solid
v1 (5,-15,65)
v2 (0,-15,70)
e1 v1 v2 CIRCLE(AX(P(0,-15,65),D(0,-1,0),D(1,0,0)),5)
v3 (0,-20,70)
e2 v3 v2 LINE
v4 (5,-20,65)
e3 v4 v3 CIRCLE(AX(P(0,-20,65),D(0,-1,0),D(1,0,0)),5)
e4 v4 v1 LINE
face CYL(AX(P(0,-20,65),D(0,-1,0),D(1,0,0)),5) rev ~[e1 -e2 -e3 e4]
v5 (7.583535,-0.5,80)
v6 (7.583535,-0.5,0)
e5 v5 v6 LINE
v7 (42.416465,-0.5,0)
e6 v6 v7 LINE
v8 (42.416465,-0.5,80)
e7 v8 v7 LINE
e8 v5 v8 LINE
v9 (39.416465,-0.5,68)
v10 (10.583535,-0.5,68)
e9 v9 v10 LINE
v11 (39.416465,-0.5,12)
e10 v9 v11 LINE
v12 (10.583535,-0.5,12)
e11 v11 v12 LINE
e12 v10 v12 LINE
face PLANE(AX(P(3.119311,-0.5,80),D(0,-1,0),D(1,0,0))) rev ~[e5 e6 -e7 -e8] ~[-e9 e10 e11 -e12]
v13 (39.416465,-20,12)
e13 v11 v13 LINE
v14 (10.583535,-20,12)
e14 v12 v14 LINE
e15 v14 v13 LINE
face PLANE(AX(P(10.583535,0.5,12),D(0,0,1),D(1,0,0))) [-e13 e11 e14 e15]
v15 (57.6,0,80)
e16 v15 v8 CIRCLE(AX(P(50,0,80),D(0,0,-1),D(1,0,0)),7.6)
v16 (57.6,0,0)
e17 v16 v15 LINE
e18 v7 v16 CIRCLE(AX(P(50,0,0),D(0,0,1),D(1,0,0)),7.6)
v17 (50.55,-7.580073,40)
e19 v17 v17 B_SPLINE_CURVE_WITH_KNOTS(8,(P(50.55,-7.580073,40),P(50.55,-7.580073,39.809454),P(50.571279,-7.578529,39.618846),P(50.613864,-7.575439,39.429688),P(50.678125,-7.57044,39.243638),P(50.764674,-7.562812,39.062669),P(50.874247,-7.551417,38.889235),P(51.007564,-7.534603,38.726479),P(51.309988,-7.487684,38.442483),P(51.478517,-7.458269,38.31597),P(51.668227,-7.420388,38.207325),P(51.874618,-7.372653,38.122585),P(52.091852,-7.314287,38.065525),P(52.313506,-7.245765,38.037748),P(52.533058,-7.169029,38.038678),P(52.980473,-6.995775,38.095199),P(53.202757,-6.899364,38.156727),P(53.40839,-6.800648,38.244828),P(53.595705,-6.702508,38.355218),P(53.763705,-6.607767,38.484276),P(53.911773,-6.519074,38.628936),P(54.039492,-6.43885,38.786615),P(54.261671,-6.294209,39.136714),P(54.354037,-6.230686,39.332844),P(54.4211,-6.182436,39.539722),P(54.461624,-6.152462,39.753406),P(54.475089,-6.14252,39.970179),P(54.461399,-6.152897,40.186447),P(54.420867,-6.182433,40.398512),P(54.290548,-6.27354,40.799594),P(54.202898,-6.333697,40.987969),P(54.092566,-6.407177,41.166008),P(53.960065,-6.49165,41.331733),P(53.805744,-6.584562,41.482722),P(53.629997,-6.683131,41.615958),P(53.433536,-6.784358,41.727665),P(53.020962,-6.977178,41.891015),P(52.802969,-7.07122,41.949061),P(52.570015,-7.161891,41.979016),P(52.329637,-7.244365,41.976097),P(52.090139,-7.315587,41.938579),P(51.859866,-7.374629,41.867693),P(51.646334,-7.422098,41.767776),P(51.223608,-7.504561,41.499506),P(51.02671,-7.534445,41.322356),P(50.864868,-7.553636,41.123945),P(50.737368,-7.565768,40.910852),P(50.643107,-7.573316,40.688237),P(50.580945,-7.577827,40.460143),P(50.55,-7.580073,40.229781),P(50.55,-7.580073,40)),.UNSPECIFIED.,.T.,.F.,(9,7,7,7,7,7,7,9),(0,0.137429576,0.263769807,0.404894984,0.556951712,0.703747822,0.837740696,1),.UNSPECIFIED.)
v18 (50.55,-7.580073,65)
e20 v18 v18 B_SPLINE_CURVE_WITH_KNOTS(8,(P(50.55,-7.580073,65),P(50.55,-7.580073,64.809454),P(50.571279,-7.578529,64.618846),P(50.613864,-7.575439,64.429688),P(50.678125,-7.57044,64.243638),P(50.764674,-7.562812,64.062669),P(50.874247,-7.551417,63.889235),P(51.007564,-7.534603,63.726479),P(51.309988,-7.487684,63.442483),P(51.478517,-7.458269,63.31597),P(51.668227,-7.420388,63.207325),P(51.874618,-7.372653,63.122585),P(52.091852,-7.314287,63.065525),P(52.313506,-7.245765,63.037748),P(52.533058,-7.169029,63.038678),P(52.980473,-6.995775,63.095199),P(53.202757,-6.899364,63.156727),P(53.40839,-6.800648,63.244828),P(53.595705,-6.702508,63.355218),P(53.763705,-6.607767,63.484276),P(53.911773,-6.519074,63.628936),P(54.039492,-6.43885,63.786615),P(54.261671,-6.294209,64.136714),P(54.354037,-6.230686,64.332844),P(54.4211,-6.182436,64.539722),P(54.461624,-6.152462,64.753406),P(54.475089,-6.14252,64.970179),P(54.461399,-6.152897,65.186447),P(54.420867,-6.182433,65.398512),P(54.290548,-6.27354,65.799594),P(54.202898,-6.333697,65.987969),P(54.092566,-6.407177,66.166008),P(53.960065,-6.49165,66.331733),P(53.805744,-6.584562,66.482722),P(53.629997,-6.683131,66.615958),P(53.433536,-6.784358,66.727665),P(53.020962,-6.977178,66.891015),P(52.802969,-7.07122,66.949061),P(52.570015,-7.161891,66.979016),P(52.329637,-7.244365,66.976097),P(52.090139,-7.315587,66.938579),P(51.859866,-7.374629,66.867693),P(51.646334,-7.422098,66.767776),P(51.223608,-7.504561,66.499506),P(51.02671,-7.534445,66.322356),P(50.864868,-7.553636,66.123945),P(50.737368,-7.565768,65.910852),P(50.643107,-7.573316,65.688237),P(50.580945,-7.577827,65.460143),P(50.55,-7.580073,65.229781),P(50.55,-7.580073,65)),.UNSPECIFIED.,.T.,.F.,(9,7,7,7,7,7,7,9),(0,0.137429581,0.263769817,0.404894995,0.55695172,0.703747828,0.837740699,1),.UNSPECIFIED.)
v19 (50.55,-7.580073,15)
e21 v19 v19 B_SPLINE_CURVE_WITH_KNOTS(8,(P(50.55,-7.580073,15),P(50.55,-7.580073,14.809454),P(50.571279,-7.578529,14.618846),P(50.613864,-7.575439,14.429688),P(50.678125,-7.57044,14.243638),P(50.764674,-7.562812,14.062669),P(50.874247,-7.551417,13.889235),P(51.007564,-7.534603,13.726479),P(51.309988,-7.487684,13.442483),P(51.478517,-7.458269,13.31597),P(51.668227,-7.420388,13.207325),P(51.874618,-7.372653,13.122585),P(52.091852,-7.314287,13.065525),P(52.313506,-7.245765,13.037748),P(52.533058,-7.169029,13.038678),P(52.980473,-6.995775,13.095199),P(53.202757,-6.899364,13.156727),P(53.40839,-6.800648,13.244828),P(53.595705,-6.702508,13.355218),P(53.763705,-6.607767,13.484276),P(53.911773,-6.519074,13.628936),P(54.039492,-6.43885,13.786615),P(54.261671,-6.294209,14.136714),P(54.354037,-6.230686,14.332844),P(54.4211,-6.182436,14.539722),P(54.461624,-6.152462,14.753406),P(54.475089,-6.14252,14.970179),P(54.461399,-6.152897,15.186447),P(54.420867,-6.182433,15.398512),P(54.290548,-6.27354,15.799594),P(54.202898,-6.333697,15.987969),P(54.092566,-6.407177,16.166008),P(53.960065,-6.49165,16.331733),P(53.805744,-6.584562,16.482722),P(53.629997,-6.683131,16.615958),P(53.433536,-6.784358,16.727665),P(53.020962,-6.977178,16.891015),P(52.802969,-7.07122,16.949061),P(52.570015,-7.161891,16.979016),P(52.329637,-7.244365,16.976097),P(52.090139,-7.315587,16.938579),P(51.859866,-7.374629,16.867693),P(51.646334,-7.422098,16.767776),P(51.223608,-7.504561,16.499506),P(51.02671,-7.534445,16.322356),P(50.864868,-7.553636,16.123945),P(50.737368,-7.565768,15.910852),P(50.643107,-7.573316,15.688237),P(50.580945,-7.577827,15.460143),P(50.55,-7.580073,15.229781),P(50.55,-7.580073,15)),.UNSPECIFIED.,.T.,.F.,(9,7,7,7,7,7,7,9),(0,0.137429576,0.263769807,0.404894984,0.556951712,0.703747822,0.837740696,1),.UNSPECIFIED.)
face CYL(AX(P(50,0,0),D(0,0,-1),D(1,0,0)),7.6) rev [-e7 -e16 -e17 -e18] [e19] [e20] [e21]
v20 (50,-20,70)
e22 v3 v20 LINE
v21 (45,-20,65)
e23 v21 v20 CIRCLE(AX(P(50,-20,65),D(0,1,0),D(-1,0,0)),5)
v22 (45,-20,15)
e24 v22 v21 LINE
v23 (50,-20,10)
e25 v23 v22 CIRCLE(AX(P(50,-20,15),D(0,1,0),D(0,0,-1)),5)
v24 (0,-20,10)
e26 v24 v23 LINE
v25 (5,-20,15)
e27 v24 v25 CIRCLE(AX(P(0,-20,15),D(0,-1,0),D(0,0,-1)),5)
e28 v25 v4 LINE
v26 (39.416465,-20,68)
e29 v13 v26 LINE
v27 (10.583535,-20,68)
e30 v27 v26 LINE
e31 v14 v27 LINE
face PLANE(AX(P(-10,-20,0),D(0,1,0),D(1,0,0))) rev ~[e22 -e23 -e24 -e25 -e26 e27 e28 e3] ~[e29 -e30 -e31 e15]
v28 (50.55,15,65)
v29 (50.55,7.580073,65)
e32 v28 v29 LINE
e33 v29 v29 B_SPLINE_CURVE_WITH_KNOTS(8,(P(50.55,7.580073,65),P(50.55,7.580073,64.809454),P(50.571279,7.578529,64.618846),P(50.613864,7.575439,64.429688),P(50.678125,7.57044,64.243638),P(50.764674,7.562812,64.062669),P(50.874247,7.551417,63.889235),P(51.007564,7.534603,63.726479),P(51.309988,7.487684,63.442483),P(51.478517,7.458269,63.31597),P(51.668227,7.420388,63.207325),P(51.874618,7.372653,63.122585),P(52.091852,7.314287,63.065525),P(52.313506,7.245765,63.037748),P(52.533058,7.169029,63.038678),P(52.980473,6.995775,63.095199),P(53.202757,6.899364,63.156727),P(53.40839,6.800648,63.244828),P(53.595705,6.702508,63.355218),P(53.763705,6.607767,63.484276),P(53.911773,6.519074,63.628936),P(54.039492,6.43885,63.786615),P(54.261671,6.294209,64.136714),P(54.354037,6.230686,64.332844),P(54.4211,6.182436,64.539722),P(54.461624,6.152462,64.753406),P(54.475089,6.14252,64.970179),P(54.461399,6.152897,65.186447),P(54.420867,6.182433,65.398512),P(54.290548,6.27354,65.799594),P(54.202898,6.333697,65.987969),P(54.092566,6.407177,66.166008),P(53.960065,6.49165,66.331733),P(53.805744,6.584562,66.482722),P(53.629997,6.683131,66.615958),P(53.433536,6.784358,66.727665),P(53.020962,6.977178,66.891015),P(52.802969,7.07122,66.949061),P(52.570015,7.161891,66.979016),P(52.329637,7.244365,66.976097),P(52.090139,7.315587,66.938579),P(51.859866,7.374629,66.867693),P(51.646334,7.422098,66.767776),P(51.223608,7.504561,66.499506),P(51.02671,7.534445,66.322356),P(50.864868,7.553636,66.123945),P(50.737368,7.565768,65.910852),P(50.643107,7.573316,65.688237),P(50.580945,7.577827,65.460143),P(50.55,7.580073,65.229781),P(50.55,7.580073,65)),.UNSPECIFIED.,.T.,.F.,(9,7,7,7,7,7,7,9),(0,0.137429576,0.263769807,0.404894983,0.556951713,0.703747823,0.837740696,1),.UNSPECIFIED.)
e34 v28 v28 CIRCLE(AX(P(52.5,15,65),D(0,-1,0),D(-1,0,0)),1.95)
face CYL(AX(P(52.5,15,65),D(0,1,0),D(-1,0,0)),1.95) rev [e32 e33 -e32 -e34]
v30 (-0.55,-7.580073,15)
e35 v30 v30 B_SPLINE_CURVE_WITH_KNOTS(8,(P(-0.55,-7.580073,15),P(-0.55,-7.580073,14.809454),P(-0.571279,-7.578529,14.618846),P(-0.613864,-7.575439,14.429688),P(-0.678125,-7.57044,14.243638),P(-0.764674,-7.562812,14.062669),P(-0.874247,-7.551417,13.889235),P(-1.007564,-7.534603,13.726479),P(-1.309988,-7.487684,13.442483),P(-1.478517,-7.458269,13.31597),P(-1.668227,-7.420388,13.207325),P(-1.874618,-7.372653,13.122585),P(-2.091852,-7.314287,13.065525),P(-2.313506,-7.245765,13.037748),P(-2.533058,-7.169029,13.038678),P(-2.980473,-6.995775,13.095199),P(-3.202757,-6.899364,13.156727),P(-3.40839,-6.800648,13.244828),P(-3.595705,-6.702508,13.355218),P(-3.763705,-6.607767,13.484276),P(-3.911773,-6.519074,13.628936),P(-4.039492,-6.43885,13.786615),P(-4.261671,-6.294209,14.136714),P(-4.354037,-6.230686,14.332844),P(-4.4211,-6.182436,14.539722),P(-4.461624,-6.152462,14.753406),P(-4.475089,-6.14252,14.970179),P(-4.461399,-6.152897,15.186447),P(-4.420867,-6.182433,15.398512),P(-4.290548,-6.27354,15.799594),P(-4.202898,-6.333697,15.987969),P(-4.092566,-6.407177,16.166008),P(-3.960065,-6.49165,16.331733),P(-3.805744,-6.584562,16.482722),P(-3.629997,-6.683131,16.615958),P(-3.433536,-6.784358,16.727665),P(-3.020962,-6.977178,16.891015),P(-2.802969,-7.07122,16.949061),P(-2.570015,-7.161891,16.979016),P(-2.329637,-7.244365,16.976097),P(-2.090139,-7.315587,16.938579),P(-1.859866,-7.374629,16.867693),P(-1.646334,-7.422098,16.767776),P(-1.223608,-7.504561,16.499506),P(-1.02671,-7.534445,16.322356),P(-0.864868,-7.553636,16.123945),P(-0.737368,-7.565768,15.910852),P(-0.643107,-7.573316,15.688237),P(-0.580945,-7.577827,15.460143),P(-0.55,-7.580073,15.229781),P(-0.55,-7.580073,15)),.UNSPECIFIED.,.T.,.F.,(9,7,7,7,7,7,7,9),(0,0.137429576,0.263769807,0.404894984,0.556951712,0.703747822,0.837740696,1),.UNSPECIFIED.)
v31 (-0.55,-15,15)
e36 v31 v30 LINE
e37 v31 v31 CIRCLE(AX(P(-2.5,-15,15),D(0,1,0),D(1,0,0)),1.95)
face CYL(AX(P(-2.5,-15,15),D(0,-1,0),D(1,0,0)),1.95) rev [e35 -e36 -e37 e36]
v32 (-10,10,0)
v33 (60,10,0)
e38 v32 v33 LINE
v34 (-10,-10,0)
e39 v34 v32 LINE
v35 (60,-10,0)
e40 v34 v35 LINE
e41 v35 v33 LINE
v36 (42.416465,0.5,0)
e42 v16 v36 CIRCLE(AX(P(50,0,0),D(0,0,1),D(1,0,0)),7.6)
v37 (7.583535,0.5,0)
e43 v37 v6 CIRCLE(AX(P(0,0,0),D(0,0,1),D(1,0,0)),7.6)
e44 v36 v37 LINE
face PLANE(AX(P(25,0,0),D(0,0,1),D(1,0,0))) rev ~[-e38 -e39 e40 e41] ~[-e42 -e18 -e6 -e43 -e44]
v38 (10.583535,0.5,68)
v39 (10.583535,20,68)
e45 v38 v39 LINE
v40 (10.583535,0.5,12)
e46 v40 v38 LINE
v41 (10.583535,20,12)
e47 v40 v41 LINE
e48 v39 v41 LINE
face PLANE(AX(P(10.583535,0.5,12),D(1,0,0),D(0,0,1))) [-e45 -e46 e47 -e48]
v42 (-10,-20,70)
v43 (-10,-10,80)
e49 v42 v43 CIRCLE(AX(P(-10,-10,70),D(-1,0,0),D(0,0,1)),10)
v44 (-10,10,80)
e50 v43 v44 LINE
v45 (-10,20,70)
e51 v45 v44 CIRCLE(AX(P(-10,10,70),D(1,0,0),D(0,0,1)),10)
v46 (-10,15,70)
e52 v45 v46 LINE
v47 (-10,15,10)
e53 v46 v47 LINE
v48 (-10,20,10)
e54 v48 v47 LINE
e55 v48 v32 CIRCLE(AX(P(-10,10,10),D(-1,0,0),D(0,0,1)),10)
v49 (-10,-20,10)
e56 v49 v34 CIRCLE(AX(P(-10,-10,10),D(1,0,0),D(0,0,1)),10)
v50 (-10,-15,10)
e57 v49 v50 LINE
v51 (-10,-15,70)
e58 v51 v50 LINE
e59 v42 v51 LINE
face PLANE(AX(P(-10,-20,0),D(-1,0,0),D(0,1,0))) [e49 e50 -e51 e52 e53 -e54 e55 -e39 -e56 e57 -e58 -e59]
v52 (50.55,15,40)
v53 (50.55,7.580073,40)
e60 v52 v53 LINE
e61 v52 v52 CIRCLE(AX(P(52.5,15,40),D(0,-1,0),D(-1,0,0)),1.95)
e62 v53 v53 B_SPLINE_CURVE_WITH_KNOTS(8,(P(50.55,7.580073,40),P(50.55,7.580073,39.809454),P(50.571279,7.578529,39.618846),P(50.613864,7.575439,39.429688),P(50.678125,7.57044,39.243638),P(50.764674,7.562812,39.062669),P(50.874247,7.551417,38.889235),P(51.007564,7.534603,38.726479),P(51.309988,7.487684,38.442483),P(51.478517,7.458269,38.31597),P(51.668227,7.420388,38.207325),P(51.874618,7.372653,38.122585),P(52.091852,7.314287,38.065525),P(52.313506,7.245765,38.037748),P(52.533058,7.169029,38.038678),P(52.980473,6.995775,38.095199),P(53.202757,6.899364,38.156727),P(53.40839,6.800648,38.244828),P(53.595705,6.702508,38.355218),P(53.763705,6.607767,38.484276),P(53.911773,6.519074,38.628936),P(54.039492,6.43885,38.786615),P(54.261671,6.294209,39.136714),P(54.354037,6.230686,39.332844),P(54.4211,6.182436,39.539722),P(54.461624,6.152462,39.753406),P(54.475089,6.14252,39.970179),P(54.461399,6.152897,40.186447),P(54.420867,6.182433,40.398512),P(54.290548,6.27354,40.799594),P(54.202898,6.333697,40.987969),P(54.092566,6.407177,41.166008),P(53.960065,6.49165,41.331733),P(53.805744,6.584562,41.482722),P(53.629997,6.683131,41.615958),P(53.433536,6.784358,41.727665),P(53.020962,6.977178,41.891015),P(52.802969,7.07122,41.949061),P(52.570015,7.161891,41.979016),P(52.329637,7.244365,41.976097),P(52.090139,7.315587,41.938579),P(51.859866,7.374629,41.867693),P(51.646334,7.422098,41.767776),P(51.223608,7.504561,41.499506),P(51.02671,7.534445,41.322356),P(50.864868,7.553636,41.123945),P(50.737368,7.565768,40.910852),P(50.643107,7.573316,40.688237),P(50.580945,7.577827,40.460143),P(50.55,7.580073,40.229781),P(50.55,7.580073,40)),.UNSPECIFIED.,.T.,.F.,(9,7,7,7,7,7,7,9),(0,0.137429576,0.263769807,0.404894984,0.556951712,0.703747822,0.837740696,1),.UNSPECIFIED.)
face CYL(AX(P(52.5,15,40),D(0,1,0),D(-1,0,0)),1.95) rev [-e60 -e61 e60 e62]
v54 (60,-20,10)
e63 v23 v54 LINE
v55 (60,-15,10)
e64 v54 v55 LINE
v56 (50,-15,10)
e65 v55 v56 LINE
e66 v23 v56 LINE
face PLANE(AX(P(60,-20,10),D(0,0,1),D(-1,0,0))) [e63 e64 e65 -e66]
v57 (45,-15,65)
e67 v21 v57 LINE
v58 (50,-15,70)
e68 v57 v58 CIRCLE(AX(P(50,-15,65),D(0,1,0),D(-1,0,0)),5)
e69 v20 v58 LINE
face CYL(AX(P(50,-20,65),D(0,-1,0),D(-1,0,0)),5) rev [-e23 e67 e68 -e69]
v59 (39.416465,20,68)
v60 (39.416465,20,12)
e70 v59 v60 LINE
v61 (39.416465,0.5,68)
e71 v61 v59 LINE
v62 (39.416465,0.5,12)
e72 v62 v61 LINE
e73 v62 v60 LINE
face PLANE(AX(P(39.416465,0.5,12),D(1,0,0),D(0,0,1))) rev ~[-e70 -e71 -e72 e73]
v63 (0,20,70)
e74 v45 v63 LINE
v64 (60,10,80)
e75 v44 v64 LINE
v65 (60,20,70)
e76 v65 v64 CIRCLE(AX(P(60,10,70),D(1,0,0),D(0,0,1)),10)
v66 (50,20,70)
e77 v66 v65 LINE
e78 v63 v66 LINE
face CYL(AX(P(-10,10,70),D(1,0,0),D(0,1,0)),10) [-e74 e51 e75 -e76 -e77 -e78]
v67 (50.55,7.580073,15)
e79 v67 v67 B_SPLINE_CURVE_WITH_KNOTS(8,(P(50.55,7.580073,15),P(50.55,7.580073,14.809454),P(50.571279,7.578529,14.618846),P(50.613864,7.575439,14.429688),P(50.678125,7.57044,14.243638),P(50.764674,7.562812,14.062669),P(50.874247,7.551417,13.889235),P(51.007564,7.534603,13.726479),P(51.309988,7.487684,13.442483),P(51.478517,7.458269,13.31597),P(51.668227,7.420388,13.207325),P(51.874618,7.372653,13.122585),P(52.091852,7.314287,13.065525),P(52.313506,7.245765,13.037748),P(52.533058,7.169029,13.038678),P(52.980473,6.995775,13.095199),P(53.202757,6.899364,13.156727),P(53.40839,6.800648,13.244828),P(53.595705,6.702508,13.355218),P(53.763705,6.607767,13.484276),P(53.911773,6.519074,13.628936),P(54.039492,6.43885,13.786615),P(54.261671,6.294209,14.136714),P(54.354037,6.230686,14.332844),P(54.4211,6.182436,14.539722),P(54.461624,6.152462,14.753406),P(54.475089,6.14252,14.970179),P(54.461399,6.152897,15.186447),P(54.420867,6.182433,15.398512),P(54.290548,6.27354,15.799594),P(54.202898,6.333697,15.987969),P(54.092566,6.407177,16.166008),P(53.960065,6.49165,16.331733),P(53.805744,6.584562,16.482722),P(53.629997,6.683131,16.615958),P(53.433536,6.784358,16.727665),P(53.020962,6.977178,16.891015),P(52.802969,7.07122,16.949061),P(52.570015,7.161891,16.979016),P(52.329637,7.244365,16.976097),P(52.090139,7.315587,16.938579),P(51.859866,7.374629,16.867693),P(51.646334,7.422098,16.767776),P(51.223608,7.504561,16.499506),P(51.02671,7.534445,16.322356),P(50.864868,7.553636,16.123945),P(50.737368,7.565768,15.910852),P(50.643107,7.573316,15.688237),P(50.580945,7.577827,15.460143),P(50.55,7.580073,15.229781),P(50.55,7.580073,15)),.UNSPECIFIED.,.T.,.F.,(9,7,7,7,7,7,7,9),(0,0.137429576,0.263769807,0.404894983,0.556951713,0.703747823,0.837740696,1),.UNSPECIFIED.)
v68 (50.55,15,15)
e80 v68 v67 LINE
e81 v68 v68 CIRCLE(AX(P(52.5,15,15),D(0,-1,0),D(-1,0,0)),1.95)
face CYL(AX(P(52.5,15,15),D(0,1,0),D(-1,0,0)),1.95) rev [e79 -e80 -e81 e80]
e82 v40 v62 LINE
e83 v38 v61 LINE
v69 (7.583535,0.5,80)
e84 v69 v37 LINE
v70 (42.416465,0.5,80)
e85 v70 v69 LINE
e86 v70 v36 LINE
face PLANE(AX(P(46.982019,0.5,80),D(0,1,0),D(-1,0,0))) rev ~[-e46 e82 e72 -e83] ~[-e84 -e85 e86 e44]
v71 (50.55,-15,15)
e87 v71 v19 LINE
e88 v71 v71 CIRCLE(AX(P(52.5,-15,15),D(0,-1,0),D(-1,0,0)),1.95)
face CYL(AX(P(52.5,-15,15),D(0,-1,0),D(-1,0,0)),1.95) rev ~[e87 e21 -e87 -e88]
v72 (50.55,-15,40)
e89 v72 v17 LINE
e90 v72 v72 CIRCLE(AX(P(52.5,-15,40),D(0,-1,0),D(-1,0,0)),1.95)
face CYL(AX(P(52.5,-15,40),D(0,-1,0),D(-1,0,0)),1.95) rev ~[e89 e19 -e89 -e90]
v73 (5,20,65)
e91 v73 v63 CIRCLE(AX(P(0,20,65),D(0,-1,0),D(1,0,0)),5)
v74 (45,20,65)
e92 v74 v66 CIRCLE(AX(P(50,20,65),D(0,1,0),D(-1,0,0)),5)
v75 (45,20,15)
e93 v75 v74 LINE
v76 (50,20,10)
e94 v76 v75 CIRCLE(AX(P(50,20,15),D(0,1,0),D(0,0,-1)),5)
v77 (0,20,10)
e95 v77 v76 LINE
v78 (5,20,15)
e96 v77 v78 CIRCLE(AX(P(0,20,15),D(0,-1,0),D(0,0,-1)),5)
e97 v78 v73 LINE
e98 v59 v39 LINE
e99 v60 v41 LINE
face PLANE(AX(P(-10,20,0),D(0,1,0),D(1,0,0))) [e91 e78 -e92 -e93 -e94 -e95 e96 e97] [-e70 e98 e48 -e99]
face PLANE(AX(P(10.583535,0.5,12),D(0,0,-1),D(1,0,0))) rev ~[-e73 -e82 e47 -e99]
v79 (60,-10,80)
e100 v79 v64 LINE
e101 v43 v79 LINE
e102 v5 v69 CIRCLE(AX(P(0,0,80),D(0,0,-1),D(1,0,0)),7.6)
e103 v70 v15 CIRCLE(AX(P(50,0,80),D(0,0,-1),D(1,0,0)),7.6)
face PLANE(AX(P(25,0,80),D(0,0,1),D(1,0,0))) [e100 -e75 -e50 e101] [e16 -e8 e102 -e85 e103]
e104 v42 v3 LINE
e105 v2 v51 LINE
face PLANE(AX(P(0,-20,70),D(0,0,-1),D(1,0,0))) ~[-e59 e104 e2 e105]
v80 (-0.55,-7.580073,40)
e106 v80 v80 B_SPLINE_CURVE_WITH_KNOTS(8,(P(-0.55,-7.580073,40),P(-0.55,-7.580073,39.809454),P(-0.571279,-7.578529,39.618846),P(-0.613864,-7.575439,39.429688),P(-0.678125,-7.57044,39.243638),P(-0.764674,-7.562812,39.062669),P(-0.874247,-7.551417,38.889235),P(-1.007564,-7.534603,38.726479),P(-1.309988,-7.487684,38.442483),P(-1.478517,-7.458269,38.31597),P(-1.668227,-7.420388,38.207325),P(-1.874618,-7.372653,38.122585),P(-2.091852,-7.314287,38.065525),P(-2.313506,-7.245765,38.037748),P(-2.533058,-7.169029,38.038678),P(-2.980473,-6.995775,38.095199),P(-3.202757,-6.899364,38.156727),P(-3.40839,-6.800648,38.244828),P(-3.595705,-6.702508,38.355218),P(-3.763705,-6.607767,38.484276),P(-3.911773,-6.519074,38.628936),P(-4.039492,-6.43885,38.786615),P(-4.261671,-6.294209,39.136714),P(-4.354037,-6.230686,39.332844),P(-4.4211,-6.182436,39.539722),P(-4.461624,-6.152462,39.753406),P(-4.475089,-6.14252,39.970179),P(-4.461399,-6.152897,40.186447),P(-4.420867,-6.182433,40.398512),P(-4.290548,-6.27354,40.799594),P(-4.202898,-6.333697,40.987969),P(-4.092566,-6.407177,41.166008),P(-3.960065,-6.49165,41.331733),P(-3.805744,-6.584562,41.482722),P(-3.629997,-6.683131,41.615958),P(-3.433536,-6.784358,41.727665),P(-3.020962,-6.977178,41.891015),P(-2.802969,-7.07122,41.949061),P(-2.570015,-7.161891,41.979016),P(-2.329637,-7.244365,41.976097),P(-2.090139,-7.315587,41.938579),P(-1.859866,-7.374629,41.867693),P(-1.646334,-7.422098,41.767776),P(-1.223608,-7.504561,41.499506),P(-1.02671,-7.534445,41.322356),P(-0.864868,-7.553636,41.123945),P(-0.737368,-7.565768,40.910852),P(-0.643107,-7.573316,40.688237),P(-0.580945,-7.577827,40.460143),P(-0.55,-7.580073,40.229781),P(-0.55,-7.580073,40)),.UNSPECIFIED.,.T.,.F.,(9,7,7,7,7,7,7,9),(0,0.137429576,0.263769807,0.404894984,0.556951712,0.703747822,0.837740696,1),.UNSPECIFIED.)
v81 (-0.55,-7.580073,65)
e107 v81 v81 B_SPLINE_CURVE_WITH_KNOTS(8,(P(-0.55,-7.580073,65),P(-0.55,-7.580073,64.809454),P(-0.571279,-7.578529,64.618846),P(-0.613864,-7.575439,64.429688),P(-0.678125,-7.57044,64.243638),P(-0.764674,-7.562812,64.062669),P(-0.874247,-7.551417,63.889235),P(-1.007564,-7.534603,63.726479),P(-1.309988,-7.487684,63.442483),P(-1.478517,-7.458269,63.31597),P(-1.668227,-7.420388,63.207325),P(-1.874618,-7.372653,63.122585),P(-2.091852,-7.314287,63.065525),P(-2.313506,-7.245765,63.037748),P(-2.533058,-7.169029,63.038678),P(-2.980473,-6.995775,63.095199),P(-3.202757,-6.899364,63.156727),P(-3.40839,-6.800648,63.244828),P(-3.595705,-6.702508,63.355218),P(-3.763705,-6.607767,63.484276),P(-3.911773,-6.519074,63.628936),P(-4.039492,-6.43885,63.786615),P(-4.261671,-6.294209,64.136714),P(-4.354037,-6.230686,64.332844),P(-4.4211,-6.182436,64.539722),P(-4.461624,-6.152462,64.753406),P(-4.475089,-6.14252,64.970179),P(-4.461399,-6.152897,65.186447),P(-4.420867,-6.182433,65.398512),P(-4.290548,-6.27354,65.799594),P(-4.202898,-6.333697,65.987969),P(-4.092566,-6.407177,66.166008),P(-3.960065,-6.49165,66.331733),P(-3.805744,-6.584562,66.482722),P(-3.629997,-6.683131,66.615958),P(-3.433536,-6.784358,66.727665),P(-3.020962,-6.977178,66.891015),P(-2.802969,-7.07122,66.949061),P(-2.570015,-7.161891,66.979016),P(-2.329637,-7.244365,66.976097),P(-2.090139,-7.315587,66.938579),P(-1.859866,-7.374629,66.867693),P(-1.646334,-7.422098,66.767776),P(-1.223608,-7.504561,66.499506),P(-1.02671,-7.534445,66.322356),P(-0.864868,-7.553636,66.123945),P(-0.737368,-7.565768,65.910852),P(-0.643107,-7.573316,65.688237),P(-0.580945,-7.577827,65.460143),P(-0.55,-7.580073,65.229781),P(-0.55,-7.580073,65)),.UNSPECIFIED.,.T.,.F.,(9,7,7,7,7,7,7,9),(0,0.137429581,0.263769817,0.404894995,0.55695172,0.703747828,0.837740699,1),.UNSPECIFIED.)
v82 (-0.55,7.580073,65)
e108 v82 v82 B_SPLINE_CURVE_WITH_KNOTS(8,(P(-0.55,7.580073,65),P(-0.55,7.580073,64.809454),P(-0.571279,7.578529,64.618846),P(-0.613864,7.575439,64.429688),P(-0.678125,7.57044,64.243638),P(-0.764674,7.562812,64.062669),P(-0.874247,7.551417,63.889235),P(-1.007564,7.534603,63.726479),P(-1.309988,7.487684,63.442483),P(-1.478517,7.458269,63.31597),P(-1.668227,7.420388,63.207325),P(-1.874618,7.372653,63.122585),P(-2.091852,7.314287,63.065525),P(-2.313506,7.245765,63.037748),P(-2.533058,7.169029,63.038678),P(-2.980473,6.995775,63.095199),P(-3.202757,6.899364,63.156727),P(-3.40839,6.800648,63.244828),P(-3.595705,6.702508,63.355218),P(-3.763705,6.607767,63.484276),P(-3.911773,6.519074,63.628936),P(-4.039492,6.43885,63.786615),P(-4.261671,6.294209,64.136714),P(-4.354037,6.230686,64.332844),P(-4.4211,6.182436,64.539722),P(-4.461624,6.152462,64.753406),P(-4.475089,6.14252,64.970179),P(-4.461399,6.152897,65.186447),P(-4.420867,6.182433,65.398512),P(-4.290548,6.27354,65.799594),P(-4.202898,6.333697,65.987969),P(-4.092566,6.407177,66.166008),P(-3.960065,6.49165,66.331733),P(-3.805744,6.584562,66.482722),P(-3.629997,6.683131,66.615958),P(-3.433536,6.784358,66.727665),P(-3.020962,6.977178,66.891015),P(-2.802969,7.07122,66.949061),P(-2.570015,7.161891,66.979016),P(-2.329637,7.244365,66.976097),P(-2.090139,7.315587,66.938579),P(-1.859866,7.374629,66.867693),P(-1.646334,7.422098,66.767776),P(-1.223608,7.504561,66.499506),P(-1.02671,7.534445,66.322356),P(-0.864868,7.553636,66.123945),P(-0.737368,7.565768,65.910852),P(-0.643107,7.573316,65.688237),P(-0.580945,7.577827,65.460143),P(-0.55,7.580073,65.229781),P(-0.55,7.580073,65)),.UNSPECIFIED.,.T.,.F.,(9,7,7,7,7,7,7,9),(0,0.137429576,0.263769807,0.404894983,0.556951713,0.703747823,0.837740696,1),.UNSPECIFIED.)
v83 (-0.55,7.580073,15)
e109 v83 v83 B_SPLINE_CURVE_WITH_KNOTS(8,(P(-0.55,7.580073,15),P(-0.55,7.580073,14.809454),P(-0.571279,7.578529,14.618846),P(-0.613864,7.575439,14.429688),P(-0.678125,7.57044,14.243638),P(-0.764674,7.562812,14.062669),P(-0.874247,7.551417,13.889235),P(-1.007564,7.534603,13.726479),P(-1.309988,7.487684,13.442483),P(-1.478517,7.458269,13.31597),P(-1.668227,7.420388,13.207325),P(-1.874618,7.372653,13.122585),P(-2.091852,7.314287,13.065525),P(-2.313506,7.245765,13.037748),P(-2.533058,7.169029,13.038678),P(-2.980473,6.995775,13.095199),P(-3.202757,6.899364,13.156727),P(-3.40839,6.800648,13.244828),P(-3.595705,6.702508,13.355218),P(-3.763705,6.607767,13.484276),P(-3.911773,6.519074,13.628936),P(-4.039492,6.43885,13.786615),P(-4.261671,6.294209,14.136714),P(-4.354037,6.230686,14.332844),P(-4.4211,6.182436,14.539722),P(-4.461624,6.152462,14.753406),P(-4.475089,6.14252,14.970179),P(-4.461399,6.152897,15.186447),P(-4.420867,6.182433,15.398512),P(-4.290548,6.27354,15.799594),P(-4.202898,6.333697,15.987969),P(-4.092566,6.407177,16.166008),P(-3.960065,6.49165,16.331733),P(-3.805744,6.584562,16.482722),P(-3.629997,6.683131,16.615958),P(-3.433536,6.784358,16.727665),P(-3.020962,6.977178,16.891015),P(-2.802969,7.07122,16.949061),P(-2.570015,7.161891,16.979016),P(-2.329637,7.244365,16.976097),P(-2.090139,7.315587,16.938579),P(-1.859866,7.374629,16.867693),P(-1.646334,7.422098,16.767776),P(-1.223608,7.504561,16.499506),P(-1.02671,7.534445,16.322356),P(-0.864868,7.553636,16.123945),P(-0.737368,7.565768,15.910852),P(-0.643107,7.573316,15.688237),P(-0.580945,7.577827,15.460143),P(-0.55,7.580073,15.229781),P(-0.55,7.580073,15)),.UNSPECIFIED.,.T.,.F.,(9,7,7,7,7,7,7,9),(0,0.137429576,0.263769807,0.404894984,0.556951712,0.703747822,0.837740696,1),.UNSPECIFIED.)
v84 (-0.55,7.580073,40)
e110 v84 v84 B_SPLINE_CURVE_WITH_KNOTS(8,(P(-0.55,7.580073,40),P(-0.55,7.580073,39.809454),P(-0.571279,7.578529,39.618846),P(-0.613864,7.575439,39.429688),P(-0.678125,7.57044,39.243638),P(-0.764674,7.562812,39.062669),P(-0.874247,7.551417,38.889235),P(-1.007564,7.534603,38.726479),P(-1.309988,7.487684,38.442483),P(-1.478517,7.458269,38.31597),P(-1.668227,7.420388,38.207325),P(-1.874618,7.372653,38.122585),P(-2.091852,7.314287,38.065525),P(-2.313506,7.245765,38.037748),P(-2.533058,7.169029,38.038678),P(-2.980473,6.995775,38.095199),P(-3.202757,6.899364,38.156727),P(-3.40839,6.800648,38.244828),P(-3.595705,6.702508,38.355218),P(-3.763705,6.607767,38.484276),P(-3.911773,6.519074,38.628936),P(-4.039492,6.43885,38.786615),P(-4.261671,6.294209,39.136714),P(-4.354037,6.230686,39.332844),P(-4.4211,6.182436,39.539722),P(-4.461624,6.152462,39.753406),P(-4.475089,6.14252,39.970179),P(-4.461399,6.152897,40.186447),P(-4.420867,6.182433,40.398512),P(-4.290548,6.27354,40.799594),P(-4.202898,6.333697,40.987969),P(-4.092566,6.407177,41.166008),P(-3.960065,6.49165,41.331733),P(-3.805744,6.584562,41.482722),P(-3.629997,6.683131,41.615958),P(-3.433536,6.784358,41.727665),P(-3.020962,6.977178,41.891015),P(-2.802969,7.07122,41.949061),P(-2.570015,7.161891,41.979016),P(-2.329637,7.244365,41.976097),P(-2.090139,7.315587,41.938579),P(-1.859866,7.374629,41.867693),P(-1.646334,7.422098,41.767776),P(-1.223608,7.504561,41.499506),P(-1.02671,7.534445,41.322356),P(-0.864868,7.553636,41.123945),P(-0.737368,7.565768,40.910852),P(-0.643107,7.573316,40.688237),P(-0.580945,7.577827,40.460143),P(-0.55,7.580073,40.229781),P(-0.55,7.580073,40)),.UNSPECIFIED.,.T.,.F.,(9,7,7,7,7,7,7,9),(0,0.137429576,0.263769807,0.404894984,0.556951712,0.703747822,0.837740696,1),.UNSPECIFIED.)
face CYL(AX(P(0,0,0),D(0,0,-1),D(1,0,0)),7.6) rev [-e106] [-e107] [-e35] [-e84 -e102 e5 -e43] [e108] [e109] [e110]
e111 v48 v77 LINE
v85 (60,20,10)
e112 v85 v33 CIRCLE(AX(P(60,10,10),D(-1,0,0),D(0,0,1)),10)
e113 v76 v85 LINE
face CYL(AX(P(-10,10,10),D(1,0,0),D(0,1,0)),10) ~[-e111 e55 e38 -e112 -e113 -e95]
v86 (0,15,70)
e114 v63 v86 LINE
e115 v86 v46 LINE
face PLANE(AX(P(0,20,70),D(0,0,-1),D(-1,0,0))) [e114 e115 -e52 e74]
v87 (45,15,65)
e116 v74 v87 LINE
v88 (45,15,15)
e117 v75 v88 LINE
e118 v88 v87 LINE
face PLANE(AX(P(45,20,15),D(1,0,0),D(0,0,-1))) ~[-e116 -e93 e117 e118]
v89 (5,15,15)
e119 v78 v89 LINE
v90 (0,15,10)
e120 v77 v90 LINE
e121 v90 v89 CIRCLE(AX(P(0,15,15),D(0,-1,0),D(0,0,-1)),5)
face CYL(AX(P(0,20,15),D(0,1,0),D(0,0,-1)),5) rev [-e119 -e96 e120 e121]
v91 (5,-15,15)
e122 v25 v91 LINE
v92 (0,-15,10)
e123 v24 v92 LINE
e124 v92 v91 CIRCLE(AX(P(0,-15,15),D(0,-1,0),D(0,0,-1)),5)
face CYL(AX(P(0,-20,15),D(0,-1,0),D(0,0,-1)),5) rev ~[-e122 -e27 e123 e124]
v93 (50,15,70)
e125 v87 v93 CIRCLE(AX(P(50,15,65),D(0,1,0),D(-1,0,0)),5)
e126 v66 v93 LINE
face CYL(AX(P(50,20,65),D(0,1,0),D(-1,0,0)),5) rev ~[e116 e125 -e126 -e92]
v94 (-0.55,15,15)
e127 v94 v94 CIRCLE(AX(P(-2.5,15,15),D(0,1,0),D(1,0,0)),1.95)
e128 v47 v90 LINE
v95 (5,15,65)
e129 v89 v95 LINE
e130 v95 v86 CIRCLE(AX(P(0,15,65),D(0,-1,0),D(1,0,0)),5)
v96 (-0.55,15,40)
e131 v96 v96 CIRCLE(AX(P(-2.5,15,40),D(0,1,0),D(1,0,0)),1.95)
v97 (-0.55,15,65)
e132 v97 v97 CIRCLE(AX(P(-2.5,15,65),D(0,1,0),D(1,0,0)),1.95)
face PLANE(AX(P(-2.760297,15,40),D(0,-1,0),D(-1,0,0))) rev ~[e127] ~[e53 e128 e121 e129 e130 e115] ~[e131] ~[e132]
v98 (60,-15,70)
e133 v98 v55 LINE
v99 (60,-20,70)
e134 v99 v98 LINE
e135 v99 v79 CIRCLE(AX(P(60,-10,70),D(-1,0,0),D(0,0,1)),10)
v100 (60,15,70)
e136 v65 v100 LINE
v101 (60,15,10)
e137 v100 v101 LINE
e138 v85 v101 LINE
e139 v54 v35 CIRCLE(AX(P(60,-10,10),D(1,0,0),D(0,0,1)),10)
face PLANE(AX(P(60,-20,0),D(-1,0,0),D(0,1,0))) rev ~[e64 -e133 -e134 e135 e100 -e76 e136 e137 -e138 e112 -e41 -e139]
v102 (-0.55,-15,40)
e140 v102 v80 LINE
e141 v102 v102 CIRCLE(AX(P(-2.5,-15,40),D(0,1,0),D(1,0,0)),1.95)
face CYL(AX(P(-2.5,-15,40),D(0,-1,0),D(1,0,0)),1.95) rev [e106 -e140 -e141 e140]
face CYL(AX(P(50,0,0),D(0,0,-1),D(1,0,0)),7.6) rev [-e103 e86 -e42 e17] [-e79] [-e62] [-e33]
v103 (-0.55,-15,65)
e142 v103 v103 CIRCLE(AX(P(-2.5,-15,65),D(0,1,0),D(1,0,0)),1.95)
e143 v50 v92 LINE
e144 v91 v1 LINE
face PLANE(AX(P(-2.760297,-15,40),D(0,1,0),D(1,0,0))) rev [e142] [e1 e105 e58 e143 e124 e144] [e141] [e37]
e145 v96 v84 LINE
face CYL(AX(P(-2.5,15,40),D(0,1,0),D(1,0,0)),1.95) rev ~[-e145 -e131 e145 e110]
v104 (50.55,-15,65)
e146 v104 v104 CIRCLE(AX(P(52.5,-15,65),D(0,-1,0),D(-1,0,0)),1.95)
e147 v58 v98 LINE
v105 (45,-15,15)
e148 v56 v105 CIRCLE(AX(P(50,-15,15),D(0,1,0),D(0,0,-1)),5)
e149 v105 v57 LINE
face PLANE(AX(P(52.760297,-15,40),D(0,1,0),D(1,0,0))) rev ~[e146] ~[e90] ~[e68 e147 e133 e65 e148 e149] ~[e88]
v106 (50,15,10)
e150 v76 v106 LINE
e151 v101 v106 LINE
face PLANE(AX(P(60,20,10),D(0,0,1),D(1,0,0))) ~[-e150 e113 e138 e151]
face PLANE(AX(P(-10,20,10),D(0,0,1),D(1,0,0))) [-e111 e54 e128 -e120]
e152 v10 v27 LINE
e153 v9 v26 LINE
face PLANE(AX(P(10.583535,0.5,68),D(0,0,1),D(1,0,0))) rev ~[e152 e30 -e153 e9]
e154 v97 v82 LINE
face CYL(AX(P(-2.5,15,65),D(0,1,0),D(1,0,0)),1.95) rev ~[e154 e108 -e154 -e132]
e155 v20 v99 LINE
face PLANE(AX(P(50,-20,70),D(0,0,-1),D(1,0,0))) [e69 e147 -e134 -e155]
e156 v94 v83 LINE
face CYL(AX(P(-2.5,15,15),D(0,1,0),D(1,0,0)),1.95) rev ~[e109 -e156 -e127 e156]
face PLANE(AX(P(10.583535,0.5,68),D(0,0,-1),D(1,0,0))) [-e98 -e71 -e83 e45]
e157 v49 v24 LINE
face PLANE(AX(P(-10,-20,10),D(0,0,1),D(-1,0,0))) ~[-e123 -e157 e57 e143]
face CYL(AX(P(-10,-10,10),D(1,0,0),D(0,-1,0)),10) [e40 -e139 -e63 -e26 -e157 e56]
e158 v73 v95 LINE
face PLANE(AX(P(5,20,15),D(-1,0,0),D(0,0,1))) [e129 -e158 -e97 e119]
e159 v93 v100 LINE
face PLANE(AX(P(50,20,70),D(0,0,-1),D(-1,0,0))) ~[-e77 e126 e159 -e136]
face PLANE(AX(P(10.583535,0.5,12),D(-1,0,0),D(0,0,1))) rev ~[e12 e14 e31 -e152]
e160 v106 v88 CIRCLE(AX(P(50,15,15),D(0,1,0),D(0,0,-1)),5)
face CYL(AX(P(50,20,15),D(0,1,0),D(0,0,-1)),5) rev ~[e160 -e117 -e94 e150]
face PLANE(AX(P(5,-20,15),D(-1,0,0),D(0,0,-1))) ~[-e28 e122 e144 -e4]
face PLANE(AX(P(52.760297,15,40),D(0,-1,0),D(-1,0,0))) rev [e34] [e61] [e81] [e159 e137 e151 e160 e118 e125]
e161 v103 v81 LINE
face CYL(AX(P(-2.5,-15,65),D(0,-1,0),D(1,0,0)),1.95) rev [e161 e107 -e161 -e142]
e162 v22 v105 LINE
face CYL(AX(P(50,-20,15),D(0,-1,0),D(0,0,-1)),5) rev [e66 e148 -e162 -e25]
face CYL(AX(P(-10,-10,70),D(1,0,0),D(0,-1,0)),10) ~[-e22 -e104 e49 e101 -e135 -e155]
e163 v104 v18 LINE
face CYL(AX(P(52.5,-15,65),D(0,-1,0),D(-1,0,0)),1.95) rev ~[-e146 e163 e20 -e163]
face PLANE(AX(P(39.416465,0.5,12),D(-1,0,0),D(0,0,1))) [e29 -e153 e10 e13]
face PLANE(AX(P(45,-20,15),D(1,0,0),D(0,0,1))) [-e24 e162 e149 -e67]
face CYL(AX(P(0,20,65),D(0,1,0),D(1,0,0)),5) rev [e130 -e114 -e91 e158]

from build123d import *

# Parameters (mm, degrees)
SKETCH1_W                    = 70
SKETCH1_H                    = 40
SKETCH1_R                    = 7.6
BOSS_EXTRUDE1_DEPTH          = 80
FILLET1_R                    = 10
CUT_EXTRUDE_THIN1_DEPTH      = 1
CUT_EXTRUDE_THIN1_DEPTH_BACK = 95
SKETCH24_W                   = 28.832930408
SKETCH24_H                   = 56
CUT_EXTRUDE15_DEPTH          = 39
CUT_EXTRUDE15_DEPTH_BACK     = 40
CUT_EXTRUDE17_DEPTH          = 5
SKETCH28_R                   = 1.95
CUT_EXTRUDE18_DEPTH          = 20
MIRROR2_COPY_1_DEPTH         = 5
MIRROR2_COPY_2_SKETCH_R      = 1.95
MIRROR2_COPY_2_DEPTH         = 20


with BuildPart() as part:
    # Sketch1 → Boss-Extrude1 (new body)
    with BuildSketch(Plane.XY):
        with Locations((25, 0)):
            Rectangle(SKETCH1_W, SKETCH1_H)
        Circle(SKETCH1_R, mode=Mode.SUBTRACT)
        with Locations((50, 0)):
            Circle(SKETCH1_R, mode=Mode.SUBTRACT)
    extrude(amount=BOSS_EXTRUDE1_DEPTH)

    # Fillet1
    fillet1_edges = [part.edges().sort_by_distance(p)[0] for p in [
        (25, -20, 80),
        (25, -20, 0),
        (25, 20, 0),
        (25, 20, 80),
    ]]
    fillet(fillet1_edges, radius=FILLET1_R)

    # Sketch12 → Cut-Extrude-Thin1 (cut, two sides)
    with BuildSketch(Plane.XY.offset(80)) as cut_extrude_thin1_sk:
        Polygon((3.119310539, -0.5), (7.6, -0.5), (42.4, -0.5), (46.98201893, -0.5), (46.98201893, 0.5), (42.4, 0.5), (7.6, 0.5), (3.119310539, 0.5), align=None)
    extrude(amount=CUT_EXTRUDE_THIN1_DEPTH, mode=Mode.SUBTRACT)
    extrude(cut_extrude_thin1_sk.sketch, amount=-CUT_EXTRUDE_THIN1_DEPTH_BACK, mode=Mode.SUBTRACT)

    # Sketch24 → Cut-Extrude15 (cut, two sides)
    with BuildSketch(Plane.XZ.offset(-0.5)) as cut_extrude15_sk:
        with Locations((25, 40)):
            Rectangle(SKETCH24_W, SKETCH24_H)
    extrude(amount=CUT_EXTRUDE15_DEPTH, mode=Mode.SUBTRACT)
    extrude(cut_extrude15_sk.sketch, amount=-CUT_EXTRUDE15_DEPTH_BACK, mode=Mode.SUBTRACT)

    # Sketch27 → Cut-Extrude17 (cut)
    with BuildSketch(Plane(origin=(0, 20, 0), x_dir=(1, 0, 0), z_dir=(0, 1, 0))):
        with BuildLine():
            Line((-10, -10), (0, -10))
            ThreePointArc((0, -10), (3.535533906, -11.464466094), (5, -15))
            Line((5, -15), (5, -65))
            ThreePointArc((5, -65), (3.535533906, -68.535533906), (0, -70))
            Line((0, -70), (-10, -70))
            Line((-10, -70), (-10, -10))
        make_face()
    cut_extrude17 = extrude(amount=-CUT_EXTRUDE17_DEPTH, mode=Mode.SUBTRACT)

    # Sketch28 → Cut-Extrude18 (cut)
    with BuildSketch(Plane(origin=(0, 15, 0), x_dir=(1, 0, 0), z_dir=(0, 1, 0))):
        with Locations((-2.5, -15)):
            Circle(SKETCH28_R)
        with Locations((-2.5, -40)):
            Circle(SKETCH28_R)
        with Locations((-2.5, -65)):
            Circle(SKETCH28_R)
    cut_extrude18 = extrude(amount=-CUT_EXTRUDE18_DEPTH, mode=Mode.SUBTRACT)

    # Mirror1: Cut-Extrude17, Cut-Extrude18 across plane
    add(cut_extrude17.mirror(Plane.ZY.offset(-25)), mode=Mode.SUBTRACT)
    add(cut_extrude18.mirror(Plane.ZY.offset(-25)), mode=Mode.SUBTRACT)

    # Mirror2: Cut-Extrude17, Cut-Extrude18 across plane
    add(cut_extrude17.mirror(Plane.ZX), mode=Mode.SUBTRACT)
    add(cut_extrude18.mirror(Plane.ZX), mode=Mode.SUBTRACT)

    # Mirror2 copy 1 sketch → Mirror2 copy 1 (cut)
    with BuildSketch(Plane(origin=(50, -20, 0), x_dir=(-1, 0, 0), z_dir=(0, -1, 0))):
        with BuildLine():
            Line((-10, -10), (0, -10))
            ThreePointArc((0, -10), (3.535533906, -11.464466094), (5, -15))
            Line((5, -15), (5, -65))
            ThreePointArc((5, -65), (3.535533906, -68.535533906), (0, -70))
            Line((0, -70), (-10, -70))
            Line((-10, -70), (-10, -10))
        make_face()
    extrude(amount=-MIRROR2_COPY_1_DEPTH, mode=Mode.SUBTRACT)

    # Mirror2 copy 2 sketch → Mirror2 copy 2 (cut)
    with BuildSketch(Plane(origin=(50, -15, 0), x_dir=(-1, 0, 0), z_dir=(0, -1, 0))):
        with Locations((-2.5, -15)):
            Circle(MIRROR2_COPY_2_SKETCH_R)
        with Locations((-2.5, -40)):
            Circle(MIRROR2_COPY_2_SKETCH_R)
        with Locations((-2.5, -65)):
            Circle(MIRROR2_COPY_2_SKETCH_R)
    extrude(amount=-MIRROR2_COPY_2_DEPTH, mode=Mode.SUBTRACT)


solid = part.part
